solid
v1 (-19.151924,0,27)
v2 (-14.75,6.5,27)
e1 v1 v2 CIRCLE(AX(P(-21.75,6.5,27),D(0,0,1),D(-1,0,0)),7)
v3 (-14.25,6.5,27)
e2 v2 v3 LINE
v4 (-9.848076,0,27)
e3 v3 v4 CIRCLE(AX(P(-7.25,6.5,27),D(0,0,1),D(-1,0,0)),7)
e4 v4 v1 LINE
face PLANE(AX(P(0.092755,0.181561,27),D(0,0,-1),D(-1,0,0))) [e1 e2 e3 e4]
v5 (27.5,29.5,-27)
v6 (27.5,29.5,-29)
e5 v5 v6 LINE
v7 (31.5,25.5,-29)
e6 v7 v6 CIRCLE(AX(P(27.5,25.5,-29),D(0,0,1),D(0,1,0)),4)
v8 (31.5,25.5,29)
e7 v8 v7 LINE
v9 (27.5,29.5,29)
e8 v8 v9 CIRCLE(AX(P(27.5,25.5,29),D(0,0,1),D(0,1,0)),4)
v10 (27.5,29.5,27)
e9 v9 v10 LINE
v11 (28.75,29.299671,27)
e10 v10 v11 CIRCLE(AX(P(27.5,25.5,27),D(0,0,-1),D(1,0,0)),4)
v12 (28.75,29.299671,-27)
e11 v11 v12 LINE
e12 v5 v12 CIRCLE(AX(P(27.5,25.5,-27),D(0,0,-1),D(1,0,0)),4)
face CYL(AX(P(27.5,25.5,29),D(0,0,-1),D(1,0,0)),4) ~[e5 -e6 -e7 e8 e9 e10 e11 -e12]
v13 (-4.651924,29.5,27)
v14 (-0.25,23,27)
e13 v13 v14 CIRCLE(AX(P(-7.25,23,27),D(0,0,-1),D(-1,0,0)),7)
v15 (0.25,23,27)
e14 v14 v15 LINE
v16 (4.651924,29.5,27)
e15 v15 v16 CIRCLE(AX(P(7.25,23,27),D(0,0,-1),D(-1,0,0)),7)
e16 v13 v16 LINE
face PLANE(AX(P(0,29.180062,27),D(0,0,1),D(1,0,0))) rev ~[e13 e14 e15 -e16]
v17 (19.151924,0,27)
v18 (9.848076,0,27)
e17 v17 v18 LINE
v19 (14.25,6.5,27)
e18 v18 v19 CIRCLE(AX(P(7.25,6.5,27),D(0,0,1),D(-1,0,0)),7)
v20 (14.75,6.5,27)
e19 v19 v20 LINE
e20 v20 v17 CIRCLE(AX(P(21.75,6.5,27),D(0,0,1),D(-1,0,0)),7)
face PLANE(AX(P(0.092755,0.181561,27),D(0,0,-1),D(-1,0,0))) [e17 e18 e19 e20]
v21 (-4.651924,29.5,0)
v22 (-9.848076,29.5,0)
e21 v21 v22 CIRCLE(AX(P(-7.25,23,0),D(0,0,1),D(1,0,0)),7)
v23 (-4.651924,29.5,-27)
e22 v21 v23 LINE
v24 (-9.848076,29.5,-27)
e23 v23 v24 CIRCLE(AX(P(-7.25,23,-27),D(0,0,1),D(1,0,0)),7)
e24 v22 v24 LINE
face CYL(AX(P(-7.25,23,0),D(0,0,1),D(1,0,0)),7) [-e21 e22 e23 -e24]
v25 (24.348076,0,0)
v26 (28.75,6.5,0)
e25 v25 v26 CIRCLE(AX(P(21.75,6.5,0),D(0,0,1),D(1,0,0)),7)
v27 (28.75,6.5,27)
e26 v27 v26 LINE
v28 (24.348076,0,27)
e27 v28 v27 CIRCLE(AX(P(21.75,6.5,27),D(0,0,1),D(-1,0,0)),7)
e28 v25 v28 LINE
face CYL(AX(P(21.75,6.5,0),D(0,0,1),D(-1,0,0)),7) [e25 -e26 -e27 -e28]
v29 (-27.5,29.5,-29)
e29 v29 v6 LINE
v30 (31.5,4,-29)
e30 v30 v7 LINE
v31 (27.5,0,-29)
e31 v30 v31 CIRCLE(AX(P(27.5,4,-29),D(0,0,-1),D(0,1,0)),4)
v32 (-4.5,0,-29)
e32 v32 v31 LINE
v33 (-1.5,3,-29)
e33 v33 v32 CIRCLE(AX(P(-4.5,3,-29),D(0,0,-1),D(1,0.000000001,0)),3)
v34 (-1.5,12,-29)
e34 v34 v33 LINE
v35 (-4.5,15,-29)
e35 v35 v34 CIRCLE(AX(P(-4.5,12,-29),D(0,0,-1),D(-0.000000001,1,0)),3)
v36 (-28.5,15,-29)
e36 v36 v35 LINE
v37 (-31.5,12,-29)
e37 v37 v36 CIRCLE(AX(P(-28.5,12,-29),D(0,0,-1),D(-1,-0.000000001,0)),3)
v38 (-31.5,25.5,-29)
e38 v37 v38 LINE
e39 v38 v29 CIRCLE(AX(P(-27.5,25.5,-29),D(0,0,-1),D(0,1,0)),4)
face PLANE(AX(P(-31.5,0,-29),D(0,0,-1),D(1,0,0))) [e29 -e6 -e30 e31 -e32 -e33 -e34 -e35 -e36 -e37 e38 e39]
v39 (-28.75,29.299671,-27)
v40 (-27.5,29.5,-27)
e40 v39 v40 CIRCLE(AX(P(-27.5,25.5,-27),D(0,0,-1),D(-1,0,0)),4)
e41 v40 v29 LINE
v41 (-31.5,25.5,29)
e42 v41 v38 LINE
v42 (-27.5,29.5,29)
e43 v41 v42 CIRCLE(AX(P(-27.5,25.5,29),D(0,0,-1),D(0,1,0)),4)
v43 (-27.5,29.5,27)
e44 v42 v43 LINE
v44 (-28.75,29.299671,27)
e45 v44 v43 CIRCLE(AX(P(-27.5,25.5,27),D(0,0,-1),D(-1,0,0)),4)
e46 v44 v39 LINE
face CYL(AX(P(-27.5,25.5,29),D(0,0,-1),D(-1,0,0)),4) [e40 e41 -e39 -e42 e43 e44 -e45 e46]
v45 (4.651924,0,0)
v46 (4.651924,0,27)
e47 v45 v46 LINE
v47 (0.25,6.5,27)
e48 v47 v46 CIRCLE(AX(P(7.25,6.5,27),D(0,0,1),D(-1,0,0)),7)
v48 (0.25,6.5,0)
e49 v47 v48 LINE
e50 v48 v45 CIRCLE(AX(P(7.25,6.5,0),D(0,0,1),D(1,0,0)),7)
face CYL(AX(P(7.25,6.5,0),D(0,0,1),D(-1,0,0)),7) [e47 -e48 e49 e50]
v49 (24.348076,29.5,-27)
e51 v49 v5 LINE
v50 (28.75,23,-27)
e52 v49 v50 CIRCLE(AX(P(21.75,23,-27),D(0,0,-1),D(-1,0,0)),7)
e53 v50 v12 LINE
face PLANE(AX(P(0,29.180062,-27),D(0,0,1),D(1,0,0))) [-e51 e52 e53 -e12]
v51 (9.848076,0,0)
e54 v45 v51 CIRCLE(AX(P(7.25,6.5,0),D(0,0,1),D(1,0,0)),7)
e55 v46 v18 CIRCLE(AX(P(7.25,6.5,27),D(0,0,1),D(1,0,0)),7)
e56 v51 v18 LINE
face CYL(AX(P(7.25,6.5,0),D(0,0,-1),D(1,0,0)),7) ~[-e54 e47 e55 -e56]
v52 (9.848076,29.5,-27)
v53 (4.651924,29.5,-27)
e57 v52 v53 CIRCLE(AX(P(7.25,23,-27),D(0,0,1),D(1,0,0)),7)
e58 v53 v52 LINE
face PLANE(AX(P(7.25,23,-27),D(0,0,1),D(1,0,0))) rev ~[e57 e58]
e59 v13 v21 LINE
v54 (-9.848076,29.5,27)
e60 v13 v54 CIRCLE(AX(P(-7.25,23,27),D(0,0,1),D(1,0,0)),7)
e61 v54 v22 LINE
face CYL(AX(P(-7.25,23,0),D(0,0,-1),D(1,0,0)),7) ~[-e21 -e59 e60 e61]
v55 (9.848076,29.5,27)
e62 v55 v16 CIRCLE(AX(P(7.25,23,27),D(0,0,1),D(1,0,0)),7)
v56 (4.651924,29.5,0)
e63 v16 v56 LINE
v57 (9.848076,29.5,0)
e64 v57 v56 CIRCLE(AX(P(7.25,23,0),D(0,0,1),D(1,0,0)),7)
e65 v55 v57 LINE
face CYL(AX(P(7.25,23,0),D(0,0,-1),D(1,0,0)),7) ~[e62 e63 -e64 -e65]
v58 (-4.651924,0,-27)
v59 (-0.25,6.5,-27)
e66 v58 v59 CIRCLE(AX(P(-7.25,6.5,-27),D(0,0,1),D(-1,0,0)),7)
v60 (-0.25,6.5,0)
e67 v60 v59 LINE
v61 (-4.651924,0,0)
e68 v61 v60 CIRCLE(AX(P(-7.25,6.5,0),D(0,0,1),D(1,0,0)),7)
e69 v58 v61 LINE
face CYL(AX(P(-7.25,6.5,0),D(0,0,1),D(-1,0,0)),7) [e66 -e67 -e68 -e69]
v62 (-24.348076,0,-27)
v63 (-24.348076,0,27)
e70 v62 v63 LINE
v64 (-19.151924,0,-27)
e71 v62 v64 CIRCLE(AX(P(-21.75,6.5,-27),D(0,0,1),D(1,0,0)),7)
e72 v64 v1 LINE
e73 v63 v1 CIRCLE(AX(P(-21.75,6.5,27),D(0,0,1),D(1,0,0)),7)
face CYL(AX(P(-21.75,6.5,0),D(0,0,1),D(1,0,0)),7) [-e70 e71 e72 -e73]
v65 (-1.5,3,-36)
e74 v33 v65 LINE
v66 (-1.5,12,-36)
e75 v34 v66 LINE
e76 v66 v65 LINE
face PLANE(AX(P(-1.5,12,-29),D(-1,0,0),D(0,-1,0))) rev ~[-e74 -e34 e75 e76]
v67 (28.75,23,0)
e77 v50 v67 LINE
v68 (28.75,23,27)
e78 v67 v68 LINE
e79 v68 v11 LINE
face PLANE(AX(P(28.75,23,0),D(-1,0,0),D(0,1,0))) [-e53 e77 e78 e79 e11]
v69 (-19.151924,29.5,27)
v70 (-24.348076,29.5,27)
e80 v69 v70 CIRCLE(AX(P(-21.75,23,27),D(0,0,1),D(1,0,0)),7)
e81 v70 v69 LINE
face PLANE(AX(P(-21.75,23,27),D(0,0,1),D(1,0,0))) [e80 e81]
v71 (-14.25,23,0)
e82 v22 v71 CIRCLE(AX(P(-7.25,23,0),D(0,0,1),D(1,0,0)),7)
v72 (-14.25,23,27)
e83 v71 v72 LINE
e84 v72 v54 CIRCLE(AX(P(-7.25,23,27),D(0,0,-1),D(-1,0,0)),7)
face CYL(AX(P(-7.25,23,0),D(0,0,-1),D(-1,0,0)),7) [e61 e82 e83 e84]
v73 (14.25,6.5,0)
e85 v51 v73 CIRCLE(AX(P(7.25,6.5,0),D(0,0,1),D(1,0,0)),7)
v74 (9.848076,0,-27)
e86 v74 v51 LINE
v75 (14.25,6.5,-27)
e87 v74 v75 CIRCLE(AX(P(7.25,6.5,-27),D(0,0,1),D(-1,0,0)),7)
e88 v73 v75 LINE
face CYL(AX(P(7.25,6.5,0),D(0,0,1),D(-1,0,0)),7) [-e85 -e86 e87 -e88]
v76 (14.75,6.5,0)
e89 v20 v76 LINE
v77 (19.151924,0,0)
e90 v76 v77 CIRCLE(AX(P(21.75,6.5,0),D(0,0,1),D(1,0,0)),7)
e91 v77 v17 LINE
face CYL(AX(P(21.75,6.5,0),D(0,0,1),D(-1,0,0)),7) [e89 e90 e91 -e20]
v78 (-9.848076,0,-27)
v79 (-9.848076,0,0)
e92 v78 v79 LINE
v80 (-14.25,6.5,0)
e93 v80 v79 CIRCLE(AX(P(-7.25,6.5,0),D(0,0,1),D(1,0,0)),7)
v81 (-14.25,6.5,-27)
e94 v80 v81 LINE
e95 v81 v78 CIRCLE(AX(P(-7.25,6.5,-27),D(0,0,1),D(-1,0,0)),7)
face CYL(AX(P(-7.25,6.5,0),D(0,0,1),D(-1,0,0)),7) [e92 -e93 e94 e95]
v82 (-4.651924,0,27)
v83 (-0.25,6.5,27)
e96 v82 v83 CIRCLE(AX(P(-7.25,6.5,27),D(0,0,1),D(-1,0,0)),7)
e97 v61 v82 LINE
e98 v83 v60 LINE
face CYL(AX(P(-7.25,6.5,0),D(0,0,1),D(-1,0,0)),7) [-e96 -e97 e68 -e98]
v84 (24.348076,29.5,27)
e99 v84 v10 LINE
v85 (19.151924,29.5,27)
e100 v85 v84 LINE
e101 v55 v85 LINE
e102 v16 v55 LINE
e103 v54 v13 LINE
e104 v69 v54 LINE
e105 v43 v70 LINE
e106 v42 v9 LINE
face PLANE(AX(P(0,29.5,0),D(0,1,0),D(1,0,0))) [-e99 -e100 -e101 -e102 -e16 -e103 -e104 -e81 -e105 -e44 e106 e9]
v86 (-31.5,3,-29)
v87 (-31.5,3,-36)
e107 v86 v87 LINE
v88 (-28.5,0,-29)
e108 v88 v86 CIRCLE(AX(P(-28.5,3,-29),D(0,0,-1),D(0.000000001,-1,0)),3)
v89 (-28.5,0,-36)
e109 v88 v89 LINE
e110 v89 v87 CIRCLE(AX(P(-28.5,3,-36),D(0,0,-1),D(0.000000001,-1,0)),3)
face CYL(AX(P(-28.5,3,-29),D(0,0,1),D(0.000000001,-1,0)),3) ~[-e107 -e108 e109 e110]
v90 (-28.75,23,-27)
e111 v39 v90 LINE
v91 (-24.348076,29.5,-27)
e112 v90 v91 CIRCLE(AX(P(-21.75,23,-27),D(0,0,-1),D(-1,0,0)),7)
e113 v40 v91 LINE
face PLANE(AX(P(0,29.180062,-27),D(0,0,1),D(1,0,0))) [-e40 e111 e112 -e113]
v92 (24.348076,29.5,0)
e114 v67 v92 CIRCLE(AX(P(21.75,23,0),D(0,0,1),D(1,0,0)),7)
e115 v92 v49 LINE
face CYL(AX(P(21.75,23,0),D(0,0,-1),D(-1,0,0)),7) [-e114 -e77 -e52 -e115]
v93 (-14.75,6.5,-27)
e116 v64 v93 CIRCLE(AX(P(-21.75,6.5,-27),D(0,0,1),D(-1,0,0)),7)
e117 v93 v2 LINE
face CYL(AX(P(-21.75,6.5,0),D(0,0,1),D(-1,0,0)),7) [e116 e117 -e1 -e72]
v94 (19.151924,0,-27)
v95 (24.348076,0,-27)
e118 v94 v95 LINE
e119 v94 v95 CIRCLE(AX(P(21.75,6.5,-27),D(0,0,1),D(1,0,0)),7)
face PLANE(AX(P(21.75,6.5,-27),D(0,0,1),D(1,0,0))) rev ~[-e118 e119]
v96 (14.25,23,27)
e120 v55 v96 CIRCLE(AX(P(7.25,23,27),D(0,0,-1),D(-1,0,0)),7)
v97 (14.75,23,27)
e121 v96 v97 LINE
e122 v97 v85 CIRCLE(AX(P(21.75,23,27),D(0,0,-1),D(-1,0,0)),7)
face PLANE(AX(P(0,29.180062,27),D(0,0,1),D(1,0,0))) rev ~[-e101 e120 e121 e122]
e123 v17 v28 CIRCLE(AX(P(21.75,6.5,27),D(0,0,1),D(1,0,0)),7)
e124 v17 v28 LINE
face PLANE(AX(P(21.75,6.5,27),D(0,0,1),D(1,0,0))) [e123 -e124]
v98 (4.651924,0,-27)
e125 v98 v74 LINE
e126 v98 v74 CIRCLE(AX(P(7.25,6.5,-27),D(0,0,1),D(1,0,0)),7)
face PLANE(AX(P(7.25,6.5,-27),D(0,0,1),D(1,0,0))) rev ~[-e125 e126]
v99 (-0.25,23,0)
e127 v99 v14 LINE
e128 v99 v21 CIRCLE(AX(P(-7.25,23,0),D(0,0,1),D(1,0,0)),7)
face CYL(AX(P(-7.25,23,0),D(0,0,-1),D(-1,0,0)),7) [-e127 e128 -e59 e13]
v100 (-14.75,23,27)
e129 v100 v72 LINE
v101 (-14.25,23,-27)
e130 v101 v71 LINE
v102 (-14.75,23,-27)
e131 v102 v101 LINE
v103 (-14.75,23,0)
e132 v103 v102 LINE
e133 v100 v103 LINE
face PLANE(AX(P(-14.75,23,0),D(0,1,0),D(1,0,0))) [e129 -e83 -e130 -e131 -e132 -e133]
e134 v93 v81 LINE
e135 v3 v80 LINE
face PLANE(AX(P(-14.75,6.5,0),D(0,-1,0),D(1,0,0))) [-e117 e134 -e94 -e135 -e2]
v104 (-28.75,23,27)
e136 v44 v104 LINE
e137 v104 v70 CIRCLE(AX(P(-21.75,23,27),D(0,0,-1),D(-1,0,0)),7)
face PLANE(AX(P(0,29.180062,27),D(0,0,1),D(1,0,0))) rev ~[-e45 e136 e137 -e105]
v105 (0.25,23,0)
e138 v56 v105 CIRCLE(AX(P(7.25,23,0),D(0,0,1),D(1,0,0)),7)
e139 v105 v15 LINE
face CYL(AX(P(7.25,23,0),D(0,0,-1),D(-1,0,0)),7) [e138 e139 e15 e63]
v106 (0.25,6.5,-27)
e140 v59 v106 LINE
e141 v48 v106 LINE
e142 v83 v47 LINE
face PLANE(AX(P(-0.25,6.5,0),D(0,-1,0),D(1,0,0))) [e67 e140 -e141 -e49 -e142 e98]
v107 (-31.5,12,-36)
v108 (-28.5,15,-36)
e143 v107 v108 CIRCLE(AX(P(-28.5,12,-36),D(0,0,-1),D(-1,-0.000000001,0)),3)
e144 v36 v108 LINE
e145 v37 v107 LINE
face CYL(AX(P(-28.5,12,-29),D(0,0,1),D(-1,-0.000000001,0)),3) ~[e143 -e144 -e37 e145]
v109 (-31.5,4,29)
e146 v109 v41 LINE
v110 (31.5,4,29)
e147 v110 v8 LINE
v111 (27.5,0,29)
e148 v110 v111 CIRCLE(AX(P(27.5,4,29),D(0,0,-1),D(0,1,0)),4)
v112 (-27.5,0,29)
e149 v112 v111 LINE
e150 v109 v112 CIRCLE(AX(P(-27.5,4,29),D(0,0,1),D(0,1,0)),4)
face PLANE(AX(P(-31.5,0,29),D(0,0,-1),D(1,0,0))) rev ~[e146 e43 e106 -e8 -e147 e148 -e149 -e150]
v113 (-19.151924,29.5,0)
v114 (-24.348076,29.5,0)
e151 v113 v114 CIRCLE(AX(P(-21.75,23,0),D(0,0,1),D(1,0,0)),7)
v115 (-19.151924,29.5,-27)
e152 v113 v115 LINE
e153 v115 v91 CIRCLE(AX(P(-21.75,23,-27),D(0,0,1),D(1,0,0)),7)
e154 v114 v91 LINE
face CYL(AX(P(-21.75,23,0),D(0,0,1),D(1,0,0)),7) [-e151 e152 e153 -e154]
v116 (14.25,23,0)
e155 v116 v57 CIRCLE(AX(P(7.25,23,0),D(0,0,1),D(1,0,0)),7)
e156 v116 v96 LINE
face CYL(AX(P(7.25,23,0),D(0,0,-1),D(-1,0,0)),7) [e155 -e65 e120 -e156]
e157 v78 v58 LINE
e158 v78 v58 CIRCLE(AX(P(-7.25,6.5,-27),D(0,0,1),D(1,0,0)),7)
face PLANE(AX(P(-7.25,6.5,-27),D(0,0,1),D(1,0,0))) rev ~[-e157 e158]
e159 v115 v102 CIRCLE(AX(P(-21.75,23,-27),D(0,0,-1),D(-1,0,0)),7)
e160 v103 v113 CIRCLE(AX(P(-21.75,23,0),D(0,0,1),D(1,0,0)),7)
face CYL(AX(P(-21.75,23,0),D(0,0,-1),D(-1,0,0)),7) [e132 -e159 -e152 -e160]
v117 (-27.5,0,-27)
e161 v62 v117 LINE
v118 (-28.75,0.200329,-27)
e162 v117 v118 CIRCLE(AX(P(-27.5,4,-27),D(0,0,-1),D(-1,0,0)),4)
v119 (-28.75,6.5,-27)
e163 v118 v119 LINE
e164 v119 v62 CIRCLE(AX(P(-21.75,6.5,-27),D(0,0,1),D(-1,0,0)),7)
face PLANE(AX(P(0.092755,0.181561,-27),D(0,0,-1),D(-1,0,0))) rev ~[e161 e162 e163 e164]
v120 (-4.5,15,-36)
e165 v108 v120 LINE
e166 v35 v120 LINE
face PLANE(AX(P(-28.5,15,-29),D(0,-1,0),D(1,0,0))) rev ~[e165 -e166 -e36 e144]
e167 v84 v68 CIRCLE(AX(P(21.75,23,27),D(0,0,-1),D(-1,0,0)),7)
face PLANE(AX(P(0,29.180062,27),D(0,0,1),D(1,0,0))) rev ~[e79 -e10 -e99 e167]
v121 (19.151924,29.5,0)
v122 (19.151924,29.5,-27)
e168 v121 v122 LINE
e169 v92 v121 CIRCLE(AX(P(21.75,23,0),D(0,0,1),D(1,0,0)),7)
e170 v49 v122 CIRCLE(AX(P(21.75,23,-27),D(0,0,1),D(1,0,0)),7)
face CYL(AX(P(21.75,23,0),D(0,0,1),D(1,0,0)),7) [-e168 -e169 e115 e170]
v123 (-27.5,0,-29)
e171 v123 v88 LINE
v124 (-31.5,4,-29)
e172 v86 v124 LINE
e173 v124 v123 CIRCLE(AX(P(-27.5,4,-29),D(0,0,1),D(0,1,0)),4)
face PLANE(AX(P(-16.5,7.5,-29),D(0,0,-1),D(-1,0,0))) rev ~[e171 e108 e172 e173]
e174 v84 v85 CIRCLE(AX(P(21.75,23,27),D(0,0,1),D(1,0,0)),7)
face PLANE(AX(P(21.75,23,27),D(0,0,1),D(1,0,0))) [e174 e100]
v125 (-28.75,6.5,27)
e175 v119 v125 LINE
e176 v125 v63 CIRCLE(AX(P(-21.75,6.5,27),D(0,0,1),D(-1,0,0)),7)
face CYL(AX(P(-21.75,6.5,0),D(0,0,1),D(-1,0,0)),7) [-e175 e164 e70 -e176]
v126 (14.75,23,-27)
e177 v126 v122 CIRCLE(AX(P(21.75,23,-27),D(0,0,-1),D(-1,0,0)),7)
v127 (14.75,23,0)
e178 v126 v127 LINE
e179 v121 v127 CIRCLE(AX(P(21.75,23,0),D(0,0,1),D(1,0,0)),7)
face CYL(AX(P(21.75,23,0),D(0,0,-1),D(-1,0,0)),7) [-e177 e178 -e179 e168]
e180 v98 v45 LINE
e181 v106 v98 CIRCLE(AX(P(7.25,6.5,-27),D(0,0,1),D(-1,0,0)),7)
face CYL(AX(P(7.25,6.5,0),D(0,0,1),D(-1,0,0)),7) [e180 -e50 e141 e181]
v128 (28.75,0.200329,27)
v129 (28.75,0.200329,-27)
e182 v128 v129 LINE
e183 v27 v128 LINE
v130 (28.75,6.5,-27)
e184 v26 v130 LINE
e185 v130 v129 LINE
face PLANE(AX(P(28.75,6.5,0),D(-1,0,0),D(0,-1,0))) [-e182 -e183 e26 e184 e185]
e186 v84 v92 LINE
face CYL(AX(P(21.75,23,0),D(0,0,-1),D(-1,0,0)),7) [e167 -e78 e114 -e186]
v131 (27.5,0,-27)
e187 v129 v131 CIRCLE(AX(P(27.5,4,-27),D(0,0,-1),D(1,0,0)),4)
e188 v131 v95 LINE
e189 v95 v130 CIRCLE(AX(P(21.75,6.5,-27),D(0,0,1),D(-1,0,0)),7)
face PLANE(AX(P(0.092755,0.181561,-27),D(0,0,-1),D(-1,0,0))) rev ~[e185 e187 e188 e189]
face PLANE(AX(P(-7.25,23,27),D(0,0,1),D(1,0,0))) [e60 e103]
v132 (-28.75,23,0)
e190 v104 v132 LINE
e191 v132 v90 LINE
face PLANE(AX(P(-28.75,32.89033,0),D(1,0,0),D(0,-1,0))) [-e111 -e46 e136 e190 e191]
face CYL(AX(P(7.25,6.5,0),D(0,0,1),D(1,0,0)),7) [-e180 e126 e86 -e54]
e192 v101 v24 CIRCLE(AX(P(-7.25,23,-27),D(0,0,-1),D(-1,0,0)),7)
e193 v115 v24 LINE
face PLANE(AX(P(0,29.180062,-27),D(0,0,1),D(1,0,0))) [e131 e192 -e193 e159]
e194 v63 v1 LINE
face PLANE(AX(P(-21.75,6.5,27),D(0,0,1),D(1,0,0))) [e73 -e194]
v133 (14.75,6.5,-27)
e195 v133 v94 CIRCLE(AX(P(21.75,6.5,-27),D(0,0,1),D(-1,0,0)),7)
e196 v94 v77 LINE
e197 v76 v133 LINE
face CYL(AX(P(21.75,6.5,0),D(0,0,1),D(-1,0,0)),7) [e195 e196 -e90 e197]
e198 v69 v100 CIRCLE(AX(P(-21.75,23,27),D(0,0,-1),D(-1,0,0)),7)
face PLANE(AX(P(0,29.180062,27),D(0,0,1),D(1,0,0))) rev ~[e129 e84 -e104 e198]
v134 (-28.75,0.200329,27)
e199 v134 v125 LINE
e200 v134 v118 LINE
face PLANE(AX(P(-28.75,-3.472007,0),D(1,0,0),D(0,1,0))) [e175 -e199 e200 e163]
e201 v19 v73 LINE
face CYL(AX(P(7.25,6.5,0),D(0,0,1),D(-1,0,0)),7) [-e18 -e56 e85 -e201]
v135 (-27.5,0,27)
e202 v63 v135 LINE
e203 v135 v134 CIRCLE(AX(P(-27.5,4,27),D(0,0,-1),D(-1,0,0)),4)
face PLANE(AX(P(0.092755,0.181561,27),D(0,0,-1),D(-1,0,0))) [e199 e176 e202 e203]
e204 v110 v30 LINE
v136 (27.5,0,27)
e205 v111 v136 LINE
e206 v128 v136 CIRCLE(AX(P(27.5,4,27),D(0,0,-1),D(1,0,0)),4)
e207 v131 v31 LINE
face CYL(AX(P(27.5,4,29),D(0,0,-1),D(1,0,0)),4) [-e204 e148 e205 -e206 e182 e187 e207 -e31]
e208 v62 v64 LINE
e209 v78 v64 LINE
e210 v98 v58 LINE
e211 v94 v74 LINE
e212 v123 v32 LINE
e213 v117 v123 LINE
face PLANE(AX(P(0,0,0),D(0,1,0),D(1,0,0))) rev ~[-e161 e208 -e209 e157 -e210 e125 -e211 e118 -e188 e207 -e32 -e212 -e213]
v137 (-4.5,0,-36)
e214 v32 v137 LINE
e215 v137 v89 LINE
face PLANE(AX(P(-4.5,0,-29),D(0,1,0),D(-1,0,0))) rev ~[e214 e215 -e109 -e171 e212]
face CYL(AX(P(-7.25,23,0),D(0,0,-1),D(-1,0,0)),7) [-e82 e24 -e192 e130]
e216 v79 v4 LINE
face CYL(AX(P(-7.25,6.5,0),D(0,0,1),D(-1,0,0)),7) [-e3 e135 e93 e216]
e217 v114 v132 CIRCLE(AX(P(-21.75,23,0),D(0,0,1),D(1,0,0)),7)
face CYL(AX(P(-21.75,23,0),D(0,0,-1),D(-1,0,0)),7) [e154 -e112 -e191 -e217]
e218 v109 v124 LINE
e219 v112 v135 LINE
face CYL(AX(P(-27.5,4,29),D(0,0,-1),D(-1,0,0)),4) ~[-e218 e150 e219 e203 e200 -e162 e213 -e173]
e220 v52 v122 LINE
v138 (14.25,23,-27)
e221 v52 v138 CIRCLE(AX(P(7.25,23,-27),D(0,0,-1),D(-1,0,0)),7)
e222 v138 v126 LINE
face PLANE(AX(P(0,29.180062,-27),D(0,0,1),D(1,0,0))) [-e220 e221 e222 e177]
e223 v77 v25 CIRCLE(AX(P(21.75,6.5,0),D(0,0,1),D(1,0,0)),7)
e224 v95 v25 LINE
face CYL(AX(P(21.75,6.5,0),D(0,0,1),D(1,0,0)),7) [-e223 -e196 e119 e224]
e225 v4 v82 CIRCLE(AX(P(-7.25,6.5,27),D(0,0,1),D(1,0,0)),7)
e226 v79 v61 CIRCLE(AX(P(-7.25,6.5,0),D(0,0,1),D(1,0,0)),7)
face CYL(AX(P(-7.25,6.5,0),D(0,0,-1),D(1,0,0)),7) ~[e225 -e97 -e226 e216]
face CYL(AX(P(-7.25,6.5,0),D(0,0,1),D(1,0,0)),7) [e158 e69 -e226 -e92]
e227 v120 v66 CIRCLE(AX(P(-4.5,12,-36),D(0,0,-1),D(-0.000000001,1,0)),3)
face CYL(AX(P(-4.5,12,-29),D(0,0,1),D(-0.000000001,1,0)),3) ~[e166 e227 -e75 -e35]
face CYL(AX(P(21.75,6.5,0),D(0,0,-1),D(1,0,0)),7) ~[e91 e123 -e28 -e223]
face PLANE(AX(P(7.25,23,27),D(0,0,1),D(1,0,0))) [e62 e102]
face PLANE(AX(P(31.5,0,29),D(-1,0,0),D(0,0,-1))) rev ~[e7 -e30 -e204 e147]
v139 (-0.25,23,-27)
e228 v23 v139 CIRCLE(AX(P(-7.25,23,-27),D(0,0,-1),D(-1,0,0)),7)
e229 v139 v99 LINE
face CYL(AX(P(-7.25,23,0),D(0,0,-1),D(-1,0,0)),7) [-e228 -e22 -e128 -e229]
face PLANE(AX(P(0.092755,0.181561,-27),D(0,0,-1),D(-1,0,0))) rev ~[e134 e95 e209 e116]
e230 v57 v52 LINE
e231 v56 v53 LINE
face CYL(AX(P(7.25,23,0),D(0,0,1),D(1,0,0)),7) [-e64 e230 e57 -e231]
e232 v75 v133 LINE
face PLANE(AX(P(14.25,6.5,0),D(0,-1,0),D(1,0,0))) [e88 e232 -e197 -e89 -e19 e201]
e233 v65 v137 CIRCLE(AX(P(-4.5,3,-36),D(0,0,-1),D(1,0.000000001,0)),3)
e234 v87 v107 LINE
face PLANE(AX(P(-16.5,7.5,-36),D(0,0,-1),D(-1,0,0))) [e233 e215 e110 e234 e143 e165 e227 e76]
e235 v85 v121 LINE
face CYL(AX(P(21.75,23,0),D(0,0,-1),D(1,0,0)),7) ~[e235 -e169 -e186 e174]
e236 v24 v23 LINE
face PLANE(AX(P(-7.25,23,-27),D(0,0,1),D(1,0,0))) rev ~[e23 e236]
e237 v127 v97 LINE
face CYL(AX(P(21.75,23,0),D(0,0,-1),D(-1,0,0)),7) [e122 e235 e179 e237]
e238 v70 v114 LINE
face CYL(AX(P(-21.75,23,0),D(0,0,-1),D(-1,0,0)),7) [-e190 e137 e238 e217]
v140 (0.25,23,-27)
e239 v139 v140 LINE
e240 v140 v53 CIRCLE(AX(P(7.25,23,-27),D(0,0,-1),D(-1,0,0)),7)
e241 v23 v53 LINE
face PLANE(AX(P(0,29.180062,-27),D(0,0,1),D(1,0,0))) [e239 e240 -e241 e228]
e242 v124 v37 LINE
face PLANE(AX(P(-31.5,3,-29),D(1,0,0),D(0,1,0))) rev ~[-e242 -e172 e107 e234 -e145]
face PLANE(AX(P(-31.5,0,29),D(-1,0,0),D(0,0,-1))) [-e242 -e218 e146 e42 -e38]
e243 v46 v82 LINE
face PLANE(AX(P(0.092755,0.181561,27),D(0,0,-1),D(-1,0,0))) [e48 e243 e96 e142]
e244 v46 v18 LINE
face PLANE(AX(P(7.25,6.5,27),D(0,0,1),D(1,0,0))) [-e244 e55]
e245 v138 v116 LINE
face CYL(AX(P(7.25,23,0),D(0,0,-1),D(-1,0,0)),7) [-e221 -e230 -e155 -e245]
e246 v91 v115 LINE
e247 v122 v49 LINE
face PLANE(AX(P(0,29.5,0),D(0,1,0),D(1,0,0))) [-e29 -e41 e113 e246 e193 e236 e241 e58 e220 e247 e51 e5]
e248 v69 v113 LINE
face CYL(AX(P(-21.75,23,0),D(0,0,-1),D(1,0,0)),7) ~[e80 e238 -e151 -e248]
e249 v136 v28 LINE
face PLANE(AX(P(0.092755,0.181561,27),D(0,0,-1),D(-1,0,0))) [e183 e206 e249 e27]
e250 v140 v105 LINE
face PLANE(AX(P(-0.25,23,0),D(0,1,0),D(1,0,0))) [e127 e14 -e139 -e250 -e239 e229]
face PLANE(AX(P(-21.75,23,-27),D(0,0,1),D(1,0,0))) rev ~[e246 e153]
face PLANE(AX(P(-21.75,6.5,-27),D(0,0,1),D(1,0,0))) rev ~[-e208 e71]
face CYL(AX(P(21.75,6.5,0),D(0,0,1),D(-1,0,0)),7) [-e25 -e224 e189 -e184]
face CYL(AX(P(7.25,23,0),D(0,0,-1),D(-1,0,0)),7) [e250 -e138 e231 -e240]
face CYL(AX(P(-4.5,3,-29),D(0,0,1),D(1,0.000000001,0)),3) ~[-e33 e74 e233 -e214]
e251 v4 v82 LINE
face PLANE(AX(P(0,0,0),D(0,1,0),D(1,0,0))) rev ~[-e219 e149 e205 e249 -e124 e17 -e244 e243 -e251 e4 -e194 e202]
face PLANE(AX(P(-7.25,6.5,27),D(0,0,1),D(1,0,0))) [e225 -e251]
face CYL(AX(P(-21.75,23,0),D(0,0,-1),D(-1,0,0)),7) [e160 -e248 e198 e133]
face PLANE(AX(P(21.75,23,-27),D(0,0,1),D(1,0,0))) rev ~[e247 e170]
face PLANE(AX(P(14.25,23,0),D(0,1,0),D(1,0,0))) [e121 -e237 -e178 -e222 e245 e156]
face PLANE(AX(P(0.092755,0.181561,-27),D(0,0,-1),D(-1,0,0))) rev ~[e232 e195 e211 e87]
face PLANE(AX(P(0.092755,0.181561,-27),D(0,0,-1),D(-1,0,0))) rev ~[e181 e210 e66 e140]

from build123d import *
from build123d.topology import SkipClean

# Parameters (mm, degrees)
SKETCH1_W           = 63
SKETCH1_H           = 58
BOSS_EXTRUDE1_DEPTH = 29.5
FILLET1_R           = 4
CUT_EXTRUDE1_DEPTH  = 27
SKETCH3_R           = 7
BOSS_EXTRUDE2_DEPTH = 27
BOSS_EXTRUDE3_DEPTH = 7


with BuildPart() as part:
    # Sketch1 → Boss-Extrude1 (new body)
    with BuildSketch(Plane(origin=(0, 0, 0), x_dir=(1, 0, 0), z_dir=(0, 1, 0))):
        Rectangle(SKETCH1_W, SKETCH1_H)
    extrude(amount=BOSS_EXTRUDE1_DEPTH)

    # Fillet1
    fillet1_edges = [part.edges().sort_by_distance(p)[0] for p in [
        (-31.5, 29.5, 0),
        (31.5, 29.5, 0),
        (-31.5, 0, 0),
        (31.5, 0, 0),
    ]]
    fillet(fillet1_edges, radius=FILLET1_R)

    # Sketch2 → Cut-Extrude1 (cut, symmetric)
    with BuildSketch(Plane.XY):
        with BuildLine():
            Line((-14.75, 23), (-14.25, 23))
            ThreePointArc((-14.25, 23), (-7.25, 30), (-0.25, 23))
            Line((-0.25, 23), (0.25, 23))
            ThreePointArc((0.25, 23), (7.25, 30), (14.25, 23))
            Line((14.25, 23), (14.75, 23))
            ThreePointArc((14.75, 23), (21.75, 30), (28.75, 23))
            Line((28.75, 23), (28.75, 32.890330219))
            Line((28.75, 32.890330219), (-28.75, 32.890330219))
            Line((-28.75, 32.890330219), (-28.75, 23))
            ThreePointArc((-28.75, 23), (-21.75, 30), (-14.75, 23))
        make_face()
        with BuildLine():
            Line((-14.75, 6.5), (-14.25, 6.5))
            ThreePointArc((-14.25, 6.5), (-7.25, -0.5), (-0.25, 6.5))
            Line((-0.25, 6.5), (0.25, 6.5))
            ThreePointArc((0.25, 6.5), (7.25, -0.5), (14.25, 6.5))
            Line((14.25, 6.5), (14.75, 6.5))
            ThreePointArc((14.75, 6.5), (21.75, -0.5), (28.75, 6.5))
            Line((28.75, 6.5), (28.75, -3.999416428))
            Line((28.75, -3.999416428), (-28.75, -3.472007121))
            Line((-28.75, -3.472007121), (-28.75, 6.5))
            ThreePointArc((-28.75, 6.5), (-21.75, -0.5), (-14.75, 6.5))
        make_face()
    extrude(amount=CUT_EXTRUDE1_DEPTH, both=True, mode=Mode.SUBTRACT)

    # Sketch3 → Boss-Extrude2 (add, symmetric)
    with SkipClean():  # the faces are left unmerged after this step: merging them gives an invalid solid
        with BuildSketch(Plane.XY):
            with Locations((-21.75, 23)):
                Circle(SKETCH3_R)
            with Locations((-7.25, 23)):
                Circle(SKETCH3_R)
            with Locations((7.25, 23)):
                Circle(SKETCH3_R)
            with Locations((21.75, 23)):
                Circle(SKETCH3_R)
            with Locations((21.75, 6.5)):
                Circle(SKETCH3_R)
            with Locations((7.25, 6.5)):
                Circle(SKETCH3_R)
            with Locations((-7.25, 6.5)):
                Circle(SKETCH3_R)
            with Locations((-21.75, 6.5)):
                Circle(SKETCH3_R)
        extrude(amount=BOSS_EXTRUDE2_DEPTH, both=True)

    # Sketch4 → Boss-Extrude3 (add)
    with SkipClean():  # the faces are left unmerged after this step: merging them gives an invalid solid
        with BuildSketch(Plane(origin=(0, 0, -29), x_dir=(-1, 0, 0), z_dir=(0, 0, -1))):
            with BuildLine():
                Line((28.5, 15), (4.5, 15))
                ThreePointArc((4.5, 15), (2.378679656, 14.121320344), (1.5, 12))
                Line((1.5, 12), (1.5, 3))
                ThreePointArc((1.5, 3), (2.378679656, 0.878679656), (4.5, 0))
                Line((4.5, 0), (28.5, 0))
                ThreePointArc((28.5, 0), (30.621320344, 0.878679656), (31.5, 3))
                Line((31.5, 3), (31.5, 12))
                ThreePointArc((31.5, 12), (30.621320344, 14.121320344), (28.5, 15))
            make_face()
        extrude(amount=BOSS_EXTRUDE3_DEPTH)


solid = part.part
